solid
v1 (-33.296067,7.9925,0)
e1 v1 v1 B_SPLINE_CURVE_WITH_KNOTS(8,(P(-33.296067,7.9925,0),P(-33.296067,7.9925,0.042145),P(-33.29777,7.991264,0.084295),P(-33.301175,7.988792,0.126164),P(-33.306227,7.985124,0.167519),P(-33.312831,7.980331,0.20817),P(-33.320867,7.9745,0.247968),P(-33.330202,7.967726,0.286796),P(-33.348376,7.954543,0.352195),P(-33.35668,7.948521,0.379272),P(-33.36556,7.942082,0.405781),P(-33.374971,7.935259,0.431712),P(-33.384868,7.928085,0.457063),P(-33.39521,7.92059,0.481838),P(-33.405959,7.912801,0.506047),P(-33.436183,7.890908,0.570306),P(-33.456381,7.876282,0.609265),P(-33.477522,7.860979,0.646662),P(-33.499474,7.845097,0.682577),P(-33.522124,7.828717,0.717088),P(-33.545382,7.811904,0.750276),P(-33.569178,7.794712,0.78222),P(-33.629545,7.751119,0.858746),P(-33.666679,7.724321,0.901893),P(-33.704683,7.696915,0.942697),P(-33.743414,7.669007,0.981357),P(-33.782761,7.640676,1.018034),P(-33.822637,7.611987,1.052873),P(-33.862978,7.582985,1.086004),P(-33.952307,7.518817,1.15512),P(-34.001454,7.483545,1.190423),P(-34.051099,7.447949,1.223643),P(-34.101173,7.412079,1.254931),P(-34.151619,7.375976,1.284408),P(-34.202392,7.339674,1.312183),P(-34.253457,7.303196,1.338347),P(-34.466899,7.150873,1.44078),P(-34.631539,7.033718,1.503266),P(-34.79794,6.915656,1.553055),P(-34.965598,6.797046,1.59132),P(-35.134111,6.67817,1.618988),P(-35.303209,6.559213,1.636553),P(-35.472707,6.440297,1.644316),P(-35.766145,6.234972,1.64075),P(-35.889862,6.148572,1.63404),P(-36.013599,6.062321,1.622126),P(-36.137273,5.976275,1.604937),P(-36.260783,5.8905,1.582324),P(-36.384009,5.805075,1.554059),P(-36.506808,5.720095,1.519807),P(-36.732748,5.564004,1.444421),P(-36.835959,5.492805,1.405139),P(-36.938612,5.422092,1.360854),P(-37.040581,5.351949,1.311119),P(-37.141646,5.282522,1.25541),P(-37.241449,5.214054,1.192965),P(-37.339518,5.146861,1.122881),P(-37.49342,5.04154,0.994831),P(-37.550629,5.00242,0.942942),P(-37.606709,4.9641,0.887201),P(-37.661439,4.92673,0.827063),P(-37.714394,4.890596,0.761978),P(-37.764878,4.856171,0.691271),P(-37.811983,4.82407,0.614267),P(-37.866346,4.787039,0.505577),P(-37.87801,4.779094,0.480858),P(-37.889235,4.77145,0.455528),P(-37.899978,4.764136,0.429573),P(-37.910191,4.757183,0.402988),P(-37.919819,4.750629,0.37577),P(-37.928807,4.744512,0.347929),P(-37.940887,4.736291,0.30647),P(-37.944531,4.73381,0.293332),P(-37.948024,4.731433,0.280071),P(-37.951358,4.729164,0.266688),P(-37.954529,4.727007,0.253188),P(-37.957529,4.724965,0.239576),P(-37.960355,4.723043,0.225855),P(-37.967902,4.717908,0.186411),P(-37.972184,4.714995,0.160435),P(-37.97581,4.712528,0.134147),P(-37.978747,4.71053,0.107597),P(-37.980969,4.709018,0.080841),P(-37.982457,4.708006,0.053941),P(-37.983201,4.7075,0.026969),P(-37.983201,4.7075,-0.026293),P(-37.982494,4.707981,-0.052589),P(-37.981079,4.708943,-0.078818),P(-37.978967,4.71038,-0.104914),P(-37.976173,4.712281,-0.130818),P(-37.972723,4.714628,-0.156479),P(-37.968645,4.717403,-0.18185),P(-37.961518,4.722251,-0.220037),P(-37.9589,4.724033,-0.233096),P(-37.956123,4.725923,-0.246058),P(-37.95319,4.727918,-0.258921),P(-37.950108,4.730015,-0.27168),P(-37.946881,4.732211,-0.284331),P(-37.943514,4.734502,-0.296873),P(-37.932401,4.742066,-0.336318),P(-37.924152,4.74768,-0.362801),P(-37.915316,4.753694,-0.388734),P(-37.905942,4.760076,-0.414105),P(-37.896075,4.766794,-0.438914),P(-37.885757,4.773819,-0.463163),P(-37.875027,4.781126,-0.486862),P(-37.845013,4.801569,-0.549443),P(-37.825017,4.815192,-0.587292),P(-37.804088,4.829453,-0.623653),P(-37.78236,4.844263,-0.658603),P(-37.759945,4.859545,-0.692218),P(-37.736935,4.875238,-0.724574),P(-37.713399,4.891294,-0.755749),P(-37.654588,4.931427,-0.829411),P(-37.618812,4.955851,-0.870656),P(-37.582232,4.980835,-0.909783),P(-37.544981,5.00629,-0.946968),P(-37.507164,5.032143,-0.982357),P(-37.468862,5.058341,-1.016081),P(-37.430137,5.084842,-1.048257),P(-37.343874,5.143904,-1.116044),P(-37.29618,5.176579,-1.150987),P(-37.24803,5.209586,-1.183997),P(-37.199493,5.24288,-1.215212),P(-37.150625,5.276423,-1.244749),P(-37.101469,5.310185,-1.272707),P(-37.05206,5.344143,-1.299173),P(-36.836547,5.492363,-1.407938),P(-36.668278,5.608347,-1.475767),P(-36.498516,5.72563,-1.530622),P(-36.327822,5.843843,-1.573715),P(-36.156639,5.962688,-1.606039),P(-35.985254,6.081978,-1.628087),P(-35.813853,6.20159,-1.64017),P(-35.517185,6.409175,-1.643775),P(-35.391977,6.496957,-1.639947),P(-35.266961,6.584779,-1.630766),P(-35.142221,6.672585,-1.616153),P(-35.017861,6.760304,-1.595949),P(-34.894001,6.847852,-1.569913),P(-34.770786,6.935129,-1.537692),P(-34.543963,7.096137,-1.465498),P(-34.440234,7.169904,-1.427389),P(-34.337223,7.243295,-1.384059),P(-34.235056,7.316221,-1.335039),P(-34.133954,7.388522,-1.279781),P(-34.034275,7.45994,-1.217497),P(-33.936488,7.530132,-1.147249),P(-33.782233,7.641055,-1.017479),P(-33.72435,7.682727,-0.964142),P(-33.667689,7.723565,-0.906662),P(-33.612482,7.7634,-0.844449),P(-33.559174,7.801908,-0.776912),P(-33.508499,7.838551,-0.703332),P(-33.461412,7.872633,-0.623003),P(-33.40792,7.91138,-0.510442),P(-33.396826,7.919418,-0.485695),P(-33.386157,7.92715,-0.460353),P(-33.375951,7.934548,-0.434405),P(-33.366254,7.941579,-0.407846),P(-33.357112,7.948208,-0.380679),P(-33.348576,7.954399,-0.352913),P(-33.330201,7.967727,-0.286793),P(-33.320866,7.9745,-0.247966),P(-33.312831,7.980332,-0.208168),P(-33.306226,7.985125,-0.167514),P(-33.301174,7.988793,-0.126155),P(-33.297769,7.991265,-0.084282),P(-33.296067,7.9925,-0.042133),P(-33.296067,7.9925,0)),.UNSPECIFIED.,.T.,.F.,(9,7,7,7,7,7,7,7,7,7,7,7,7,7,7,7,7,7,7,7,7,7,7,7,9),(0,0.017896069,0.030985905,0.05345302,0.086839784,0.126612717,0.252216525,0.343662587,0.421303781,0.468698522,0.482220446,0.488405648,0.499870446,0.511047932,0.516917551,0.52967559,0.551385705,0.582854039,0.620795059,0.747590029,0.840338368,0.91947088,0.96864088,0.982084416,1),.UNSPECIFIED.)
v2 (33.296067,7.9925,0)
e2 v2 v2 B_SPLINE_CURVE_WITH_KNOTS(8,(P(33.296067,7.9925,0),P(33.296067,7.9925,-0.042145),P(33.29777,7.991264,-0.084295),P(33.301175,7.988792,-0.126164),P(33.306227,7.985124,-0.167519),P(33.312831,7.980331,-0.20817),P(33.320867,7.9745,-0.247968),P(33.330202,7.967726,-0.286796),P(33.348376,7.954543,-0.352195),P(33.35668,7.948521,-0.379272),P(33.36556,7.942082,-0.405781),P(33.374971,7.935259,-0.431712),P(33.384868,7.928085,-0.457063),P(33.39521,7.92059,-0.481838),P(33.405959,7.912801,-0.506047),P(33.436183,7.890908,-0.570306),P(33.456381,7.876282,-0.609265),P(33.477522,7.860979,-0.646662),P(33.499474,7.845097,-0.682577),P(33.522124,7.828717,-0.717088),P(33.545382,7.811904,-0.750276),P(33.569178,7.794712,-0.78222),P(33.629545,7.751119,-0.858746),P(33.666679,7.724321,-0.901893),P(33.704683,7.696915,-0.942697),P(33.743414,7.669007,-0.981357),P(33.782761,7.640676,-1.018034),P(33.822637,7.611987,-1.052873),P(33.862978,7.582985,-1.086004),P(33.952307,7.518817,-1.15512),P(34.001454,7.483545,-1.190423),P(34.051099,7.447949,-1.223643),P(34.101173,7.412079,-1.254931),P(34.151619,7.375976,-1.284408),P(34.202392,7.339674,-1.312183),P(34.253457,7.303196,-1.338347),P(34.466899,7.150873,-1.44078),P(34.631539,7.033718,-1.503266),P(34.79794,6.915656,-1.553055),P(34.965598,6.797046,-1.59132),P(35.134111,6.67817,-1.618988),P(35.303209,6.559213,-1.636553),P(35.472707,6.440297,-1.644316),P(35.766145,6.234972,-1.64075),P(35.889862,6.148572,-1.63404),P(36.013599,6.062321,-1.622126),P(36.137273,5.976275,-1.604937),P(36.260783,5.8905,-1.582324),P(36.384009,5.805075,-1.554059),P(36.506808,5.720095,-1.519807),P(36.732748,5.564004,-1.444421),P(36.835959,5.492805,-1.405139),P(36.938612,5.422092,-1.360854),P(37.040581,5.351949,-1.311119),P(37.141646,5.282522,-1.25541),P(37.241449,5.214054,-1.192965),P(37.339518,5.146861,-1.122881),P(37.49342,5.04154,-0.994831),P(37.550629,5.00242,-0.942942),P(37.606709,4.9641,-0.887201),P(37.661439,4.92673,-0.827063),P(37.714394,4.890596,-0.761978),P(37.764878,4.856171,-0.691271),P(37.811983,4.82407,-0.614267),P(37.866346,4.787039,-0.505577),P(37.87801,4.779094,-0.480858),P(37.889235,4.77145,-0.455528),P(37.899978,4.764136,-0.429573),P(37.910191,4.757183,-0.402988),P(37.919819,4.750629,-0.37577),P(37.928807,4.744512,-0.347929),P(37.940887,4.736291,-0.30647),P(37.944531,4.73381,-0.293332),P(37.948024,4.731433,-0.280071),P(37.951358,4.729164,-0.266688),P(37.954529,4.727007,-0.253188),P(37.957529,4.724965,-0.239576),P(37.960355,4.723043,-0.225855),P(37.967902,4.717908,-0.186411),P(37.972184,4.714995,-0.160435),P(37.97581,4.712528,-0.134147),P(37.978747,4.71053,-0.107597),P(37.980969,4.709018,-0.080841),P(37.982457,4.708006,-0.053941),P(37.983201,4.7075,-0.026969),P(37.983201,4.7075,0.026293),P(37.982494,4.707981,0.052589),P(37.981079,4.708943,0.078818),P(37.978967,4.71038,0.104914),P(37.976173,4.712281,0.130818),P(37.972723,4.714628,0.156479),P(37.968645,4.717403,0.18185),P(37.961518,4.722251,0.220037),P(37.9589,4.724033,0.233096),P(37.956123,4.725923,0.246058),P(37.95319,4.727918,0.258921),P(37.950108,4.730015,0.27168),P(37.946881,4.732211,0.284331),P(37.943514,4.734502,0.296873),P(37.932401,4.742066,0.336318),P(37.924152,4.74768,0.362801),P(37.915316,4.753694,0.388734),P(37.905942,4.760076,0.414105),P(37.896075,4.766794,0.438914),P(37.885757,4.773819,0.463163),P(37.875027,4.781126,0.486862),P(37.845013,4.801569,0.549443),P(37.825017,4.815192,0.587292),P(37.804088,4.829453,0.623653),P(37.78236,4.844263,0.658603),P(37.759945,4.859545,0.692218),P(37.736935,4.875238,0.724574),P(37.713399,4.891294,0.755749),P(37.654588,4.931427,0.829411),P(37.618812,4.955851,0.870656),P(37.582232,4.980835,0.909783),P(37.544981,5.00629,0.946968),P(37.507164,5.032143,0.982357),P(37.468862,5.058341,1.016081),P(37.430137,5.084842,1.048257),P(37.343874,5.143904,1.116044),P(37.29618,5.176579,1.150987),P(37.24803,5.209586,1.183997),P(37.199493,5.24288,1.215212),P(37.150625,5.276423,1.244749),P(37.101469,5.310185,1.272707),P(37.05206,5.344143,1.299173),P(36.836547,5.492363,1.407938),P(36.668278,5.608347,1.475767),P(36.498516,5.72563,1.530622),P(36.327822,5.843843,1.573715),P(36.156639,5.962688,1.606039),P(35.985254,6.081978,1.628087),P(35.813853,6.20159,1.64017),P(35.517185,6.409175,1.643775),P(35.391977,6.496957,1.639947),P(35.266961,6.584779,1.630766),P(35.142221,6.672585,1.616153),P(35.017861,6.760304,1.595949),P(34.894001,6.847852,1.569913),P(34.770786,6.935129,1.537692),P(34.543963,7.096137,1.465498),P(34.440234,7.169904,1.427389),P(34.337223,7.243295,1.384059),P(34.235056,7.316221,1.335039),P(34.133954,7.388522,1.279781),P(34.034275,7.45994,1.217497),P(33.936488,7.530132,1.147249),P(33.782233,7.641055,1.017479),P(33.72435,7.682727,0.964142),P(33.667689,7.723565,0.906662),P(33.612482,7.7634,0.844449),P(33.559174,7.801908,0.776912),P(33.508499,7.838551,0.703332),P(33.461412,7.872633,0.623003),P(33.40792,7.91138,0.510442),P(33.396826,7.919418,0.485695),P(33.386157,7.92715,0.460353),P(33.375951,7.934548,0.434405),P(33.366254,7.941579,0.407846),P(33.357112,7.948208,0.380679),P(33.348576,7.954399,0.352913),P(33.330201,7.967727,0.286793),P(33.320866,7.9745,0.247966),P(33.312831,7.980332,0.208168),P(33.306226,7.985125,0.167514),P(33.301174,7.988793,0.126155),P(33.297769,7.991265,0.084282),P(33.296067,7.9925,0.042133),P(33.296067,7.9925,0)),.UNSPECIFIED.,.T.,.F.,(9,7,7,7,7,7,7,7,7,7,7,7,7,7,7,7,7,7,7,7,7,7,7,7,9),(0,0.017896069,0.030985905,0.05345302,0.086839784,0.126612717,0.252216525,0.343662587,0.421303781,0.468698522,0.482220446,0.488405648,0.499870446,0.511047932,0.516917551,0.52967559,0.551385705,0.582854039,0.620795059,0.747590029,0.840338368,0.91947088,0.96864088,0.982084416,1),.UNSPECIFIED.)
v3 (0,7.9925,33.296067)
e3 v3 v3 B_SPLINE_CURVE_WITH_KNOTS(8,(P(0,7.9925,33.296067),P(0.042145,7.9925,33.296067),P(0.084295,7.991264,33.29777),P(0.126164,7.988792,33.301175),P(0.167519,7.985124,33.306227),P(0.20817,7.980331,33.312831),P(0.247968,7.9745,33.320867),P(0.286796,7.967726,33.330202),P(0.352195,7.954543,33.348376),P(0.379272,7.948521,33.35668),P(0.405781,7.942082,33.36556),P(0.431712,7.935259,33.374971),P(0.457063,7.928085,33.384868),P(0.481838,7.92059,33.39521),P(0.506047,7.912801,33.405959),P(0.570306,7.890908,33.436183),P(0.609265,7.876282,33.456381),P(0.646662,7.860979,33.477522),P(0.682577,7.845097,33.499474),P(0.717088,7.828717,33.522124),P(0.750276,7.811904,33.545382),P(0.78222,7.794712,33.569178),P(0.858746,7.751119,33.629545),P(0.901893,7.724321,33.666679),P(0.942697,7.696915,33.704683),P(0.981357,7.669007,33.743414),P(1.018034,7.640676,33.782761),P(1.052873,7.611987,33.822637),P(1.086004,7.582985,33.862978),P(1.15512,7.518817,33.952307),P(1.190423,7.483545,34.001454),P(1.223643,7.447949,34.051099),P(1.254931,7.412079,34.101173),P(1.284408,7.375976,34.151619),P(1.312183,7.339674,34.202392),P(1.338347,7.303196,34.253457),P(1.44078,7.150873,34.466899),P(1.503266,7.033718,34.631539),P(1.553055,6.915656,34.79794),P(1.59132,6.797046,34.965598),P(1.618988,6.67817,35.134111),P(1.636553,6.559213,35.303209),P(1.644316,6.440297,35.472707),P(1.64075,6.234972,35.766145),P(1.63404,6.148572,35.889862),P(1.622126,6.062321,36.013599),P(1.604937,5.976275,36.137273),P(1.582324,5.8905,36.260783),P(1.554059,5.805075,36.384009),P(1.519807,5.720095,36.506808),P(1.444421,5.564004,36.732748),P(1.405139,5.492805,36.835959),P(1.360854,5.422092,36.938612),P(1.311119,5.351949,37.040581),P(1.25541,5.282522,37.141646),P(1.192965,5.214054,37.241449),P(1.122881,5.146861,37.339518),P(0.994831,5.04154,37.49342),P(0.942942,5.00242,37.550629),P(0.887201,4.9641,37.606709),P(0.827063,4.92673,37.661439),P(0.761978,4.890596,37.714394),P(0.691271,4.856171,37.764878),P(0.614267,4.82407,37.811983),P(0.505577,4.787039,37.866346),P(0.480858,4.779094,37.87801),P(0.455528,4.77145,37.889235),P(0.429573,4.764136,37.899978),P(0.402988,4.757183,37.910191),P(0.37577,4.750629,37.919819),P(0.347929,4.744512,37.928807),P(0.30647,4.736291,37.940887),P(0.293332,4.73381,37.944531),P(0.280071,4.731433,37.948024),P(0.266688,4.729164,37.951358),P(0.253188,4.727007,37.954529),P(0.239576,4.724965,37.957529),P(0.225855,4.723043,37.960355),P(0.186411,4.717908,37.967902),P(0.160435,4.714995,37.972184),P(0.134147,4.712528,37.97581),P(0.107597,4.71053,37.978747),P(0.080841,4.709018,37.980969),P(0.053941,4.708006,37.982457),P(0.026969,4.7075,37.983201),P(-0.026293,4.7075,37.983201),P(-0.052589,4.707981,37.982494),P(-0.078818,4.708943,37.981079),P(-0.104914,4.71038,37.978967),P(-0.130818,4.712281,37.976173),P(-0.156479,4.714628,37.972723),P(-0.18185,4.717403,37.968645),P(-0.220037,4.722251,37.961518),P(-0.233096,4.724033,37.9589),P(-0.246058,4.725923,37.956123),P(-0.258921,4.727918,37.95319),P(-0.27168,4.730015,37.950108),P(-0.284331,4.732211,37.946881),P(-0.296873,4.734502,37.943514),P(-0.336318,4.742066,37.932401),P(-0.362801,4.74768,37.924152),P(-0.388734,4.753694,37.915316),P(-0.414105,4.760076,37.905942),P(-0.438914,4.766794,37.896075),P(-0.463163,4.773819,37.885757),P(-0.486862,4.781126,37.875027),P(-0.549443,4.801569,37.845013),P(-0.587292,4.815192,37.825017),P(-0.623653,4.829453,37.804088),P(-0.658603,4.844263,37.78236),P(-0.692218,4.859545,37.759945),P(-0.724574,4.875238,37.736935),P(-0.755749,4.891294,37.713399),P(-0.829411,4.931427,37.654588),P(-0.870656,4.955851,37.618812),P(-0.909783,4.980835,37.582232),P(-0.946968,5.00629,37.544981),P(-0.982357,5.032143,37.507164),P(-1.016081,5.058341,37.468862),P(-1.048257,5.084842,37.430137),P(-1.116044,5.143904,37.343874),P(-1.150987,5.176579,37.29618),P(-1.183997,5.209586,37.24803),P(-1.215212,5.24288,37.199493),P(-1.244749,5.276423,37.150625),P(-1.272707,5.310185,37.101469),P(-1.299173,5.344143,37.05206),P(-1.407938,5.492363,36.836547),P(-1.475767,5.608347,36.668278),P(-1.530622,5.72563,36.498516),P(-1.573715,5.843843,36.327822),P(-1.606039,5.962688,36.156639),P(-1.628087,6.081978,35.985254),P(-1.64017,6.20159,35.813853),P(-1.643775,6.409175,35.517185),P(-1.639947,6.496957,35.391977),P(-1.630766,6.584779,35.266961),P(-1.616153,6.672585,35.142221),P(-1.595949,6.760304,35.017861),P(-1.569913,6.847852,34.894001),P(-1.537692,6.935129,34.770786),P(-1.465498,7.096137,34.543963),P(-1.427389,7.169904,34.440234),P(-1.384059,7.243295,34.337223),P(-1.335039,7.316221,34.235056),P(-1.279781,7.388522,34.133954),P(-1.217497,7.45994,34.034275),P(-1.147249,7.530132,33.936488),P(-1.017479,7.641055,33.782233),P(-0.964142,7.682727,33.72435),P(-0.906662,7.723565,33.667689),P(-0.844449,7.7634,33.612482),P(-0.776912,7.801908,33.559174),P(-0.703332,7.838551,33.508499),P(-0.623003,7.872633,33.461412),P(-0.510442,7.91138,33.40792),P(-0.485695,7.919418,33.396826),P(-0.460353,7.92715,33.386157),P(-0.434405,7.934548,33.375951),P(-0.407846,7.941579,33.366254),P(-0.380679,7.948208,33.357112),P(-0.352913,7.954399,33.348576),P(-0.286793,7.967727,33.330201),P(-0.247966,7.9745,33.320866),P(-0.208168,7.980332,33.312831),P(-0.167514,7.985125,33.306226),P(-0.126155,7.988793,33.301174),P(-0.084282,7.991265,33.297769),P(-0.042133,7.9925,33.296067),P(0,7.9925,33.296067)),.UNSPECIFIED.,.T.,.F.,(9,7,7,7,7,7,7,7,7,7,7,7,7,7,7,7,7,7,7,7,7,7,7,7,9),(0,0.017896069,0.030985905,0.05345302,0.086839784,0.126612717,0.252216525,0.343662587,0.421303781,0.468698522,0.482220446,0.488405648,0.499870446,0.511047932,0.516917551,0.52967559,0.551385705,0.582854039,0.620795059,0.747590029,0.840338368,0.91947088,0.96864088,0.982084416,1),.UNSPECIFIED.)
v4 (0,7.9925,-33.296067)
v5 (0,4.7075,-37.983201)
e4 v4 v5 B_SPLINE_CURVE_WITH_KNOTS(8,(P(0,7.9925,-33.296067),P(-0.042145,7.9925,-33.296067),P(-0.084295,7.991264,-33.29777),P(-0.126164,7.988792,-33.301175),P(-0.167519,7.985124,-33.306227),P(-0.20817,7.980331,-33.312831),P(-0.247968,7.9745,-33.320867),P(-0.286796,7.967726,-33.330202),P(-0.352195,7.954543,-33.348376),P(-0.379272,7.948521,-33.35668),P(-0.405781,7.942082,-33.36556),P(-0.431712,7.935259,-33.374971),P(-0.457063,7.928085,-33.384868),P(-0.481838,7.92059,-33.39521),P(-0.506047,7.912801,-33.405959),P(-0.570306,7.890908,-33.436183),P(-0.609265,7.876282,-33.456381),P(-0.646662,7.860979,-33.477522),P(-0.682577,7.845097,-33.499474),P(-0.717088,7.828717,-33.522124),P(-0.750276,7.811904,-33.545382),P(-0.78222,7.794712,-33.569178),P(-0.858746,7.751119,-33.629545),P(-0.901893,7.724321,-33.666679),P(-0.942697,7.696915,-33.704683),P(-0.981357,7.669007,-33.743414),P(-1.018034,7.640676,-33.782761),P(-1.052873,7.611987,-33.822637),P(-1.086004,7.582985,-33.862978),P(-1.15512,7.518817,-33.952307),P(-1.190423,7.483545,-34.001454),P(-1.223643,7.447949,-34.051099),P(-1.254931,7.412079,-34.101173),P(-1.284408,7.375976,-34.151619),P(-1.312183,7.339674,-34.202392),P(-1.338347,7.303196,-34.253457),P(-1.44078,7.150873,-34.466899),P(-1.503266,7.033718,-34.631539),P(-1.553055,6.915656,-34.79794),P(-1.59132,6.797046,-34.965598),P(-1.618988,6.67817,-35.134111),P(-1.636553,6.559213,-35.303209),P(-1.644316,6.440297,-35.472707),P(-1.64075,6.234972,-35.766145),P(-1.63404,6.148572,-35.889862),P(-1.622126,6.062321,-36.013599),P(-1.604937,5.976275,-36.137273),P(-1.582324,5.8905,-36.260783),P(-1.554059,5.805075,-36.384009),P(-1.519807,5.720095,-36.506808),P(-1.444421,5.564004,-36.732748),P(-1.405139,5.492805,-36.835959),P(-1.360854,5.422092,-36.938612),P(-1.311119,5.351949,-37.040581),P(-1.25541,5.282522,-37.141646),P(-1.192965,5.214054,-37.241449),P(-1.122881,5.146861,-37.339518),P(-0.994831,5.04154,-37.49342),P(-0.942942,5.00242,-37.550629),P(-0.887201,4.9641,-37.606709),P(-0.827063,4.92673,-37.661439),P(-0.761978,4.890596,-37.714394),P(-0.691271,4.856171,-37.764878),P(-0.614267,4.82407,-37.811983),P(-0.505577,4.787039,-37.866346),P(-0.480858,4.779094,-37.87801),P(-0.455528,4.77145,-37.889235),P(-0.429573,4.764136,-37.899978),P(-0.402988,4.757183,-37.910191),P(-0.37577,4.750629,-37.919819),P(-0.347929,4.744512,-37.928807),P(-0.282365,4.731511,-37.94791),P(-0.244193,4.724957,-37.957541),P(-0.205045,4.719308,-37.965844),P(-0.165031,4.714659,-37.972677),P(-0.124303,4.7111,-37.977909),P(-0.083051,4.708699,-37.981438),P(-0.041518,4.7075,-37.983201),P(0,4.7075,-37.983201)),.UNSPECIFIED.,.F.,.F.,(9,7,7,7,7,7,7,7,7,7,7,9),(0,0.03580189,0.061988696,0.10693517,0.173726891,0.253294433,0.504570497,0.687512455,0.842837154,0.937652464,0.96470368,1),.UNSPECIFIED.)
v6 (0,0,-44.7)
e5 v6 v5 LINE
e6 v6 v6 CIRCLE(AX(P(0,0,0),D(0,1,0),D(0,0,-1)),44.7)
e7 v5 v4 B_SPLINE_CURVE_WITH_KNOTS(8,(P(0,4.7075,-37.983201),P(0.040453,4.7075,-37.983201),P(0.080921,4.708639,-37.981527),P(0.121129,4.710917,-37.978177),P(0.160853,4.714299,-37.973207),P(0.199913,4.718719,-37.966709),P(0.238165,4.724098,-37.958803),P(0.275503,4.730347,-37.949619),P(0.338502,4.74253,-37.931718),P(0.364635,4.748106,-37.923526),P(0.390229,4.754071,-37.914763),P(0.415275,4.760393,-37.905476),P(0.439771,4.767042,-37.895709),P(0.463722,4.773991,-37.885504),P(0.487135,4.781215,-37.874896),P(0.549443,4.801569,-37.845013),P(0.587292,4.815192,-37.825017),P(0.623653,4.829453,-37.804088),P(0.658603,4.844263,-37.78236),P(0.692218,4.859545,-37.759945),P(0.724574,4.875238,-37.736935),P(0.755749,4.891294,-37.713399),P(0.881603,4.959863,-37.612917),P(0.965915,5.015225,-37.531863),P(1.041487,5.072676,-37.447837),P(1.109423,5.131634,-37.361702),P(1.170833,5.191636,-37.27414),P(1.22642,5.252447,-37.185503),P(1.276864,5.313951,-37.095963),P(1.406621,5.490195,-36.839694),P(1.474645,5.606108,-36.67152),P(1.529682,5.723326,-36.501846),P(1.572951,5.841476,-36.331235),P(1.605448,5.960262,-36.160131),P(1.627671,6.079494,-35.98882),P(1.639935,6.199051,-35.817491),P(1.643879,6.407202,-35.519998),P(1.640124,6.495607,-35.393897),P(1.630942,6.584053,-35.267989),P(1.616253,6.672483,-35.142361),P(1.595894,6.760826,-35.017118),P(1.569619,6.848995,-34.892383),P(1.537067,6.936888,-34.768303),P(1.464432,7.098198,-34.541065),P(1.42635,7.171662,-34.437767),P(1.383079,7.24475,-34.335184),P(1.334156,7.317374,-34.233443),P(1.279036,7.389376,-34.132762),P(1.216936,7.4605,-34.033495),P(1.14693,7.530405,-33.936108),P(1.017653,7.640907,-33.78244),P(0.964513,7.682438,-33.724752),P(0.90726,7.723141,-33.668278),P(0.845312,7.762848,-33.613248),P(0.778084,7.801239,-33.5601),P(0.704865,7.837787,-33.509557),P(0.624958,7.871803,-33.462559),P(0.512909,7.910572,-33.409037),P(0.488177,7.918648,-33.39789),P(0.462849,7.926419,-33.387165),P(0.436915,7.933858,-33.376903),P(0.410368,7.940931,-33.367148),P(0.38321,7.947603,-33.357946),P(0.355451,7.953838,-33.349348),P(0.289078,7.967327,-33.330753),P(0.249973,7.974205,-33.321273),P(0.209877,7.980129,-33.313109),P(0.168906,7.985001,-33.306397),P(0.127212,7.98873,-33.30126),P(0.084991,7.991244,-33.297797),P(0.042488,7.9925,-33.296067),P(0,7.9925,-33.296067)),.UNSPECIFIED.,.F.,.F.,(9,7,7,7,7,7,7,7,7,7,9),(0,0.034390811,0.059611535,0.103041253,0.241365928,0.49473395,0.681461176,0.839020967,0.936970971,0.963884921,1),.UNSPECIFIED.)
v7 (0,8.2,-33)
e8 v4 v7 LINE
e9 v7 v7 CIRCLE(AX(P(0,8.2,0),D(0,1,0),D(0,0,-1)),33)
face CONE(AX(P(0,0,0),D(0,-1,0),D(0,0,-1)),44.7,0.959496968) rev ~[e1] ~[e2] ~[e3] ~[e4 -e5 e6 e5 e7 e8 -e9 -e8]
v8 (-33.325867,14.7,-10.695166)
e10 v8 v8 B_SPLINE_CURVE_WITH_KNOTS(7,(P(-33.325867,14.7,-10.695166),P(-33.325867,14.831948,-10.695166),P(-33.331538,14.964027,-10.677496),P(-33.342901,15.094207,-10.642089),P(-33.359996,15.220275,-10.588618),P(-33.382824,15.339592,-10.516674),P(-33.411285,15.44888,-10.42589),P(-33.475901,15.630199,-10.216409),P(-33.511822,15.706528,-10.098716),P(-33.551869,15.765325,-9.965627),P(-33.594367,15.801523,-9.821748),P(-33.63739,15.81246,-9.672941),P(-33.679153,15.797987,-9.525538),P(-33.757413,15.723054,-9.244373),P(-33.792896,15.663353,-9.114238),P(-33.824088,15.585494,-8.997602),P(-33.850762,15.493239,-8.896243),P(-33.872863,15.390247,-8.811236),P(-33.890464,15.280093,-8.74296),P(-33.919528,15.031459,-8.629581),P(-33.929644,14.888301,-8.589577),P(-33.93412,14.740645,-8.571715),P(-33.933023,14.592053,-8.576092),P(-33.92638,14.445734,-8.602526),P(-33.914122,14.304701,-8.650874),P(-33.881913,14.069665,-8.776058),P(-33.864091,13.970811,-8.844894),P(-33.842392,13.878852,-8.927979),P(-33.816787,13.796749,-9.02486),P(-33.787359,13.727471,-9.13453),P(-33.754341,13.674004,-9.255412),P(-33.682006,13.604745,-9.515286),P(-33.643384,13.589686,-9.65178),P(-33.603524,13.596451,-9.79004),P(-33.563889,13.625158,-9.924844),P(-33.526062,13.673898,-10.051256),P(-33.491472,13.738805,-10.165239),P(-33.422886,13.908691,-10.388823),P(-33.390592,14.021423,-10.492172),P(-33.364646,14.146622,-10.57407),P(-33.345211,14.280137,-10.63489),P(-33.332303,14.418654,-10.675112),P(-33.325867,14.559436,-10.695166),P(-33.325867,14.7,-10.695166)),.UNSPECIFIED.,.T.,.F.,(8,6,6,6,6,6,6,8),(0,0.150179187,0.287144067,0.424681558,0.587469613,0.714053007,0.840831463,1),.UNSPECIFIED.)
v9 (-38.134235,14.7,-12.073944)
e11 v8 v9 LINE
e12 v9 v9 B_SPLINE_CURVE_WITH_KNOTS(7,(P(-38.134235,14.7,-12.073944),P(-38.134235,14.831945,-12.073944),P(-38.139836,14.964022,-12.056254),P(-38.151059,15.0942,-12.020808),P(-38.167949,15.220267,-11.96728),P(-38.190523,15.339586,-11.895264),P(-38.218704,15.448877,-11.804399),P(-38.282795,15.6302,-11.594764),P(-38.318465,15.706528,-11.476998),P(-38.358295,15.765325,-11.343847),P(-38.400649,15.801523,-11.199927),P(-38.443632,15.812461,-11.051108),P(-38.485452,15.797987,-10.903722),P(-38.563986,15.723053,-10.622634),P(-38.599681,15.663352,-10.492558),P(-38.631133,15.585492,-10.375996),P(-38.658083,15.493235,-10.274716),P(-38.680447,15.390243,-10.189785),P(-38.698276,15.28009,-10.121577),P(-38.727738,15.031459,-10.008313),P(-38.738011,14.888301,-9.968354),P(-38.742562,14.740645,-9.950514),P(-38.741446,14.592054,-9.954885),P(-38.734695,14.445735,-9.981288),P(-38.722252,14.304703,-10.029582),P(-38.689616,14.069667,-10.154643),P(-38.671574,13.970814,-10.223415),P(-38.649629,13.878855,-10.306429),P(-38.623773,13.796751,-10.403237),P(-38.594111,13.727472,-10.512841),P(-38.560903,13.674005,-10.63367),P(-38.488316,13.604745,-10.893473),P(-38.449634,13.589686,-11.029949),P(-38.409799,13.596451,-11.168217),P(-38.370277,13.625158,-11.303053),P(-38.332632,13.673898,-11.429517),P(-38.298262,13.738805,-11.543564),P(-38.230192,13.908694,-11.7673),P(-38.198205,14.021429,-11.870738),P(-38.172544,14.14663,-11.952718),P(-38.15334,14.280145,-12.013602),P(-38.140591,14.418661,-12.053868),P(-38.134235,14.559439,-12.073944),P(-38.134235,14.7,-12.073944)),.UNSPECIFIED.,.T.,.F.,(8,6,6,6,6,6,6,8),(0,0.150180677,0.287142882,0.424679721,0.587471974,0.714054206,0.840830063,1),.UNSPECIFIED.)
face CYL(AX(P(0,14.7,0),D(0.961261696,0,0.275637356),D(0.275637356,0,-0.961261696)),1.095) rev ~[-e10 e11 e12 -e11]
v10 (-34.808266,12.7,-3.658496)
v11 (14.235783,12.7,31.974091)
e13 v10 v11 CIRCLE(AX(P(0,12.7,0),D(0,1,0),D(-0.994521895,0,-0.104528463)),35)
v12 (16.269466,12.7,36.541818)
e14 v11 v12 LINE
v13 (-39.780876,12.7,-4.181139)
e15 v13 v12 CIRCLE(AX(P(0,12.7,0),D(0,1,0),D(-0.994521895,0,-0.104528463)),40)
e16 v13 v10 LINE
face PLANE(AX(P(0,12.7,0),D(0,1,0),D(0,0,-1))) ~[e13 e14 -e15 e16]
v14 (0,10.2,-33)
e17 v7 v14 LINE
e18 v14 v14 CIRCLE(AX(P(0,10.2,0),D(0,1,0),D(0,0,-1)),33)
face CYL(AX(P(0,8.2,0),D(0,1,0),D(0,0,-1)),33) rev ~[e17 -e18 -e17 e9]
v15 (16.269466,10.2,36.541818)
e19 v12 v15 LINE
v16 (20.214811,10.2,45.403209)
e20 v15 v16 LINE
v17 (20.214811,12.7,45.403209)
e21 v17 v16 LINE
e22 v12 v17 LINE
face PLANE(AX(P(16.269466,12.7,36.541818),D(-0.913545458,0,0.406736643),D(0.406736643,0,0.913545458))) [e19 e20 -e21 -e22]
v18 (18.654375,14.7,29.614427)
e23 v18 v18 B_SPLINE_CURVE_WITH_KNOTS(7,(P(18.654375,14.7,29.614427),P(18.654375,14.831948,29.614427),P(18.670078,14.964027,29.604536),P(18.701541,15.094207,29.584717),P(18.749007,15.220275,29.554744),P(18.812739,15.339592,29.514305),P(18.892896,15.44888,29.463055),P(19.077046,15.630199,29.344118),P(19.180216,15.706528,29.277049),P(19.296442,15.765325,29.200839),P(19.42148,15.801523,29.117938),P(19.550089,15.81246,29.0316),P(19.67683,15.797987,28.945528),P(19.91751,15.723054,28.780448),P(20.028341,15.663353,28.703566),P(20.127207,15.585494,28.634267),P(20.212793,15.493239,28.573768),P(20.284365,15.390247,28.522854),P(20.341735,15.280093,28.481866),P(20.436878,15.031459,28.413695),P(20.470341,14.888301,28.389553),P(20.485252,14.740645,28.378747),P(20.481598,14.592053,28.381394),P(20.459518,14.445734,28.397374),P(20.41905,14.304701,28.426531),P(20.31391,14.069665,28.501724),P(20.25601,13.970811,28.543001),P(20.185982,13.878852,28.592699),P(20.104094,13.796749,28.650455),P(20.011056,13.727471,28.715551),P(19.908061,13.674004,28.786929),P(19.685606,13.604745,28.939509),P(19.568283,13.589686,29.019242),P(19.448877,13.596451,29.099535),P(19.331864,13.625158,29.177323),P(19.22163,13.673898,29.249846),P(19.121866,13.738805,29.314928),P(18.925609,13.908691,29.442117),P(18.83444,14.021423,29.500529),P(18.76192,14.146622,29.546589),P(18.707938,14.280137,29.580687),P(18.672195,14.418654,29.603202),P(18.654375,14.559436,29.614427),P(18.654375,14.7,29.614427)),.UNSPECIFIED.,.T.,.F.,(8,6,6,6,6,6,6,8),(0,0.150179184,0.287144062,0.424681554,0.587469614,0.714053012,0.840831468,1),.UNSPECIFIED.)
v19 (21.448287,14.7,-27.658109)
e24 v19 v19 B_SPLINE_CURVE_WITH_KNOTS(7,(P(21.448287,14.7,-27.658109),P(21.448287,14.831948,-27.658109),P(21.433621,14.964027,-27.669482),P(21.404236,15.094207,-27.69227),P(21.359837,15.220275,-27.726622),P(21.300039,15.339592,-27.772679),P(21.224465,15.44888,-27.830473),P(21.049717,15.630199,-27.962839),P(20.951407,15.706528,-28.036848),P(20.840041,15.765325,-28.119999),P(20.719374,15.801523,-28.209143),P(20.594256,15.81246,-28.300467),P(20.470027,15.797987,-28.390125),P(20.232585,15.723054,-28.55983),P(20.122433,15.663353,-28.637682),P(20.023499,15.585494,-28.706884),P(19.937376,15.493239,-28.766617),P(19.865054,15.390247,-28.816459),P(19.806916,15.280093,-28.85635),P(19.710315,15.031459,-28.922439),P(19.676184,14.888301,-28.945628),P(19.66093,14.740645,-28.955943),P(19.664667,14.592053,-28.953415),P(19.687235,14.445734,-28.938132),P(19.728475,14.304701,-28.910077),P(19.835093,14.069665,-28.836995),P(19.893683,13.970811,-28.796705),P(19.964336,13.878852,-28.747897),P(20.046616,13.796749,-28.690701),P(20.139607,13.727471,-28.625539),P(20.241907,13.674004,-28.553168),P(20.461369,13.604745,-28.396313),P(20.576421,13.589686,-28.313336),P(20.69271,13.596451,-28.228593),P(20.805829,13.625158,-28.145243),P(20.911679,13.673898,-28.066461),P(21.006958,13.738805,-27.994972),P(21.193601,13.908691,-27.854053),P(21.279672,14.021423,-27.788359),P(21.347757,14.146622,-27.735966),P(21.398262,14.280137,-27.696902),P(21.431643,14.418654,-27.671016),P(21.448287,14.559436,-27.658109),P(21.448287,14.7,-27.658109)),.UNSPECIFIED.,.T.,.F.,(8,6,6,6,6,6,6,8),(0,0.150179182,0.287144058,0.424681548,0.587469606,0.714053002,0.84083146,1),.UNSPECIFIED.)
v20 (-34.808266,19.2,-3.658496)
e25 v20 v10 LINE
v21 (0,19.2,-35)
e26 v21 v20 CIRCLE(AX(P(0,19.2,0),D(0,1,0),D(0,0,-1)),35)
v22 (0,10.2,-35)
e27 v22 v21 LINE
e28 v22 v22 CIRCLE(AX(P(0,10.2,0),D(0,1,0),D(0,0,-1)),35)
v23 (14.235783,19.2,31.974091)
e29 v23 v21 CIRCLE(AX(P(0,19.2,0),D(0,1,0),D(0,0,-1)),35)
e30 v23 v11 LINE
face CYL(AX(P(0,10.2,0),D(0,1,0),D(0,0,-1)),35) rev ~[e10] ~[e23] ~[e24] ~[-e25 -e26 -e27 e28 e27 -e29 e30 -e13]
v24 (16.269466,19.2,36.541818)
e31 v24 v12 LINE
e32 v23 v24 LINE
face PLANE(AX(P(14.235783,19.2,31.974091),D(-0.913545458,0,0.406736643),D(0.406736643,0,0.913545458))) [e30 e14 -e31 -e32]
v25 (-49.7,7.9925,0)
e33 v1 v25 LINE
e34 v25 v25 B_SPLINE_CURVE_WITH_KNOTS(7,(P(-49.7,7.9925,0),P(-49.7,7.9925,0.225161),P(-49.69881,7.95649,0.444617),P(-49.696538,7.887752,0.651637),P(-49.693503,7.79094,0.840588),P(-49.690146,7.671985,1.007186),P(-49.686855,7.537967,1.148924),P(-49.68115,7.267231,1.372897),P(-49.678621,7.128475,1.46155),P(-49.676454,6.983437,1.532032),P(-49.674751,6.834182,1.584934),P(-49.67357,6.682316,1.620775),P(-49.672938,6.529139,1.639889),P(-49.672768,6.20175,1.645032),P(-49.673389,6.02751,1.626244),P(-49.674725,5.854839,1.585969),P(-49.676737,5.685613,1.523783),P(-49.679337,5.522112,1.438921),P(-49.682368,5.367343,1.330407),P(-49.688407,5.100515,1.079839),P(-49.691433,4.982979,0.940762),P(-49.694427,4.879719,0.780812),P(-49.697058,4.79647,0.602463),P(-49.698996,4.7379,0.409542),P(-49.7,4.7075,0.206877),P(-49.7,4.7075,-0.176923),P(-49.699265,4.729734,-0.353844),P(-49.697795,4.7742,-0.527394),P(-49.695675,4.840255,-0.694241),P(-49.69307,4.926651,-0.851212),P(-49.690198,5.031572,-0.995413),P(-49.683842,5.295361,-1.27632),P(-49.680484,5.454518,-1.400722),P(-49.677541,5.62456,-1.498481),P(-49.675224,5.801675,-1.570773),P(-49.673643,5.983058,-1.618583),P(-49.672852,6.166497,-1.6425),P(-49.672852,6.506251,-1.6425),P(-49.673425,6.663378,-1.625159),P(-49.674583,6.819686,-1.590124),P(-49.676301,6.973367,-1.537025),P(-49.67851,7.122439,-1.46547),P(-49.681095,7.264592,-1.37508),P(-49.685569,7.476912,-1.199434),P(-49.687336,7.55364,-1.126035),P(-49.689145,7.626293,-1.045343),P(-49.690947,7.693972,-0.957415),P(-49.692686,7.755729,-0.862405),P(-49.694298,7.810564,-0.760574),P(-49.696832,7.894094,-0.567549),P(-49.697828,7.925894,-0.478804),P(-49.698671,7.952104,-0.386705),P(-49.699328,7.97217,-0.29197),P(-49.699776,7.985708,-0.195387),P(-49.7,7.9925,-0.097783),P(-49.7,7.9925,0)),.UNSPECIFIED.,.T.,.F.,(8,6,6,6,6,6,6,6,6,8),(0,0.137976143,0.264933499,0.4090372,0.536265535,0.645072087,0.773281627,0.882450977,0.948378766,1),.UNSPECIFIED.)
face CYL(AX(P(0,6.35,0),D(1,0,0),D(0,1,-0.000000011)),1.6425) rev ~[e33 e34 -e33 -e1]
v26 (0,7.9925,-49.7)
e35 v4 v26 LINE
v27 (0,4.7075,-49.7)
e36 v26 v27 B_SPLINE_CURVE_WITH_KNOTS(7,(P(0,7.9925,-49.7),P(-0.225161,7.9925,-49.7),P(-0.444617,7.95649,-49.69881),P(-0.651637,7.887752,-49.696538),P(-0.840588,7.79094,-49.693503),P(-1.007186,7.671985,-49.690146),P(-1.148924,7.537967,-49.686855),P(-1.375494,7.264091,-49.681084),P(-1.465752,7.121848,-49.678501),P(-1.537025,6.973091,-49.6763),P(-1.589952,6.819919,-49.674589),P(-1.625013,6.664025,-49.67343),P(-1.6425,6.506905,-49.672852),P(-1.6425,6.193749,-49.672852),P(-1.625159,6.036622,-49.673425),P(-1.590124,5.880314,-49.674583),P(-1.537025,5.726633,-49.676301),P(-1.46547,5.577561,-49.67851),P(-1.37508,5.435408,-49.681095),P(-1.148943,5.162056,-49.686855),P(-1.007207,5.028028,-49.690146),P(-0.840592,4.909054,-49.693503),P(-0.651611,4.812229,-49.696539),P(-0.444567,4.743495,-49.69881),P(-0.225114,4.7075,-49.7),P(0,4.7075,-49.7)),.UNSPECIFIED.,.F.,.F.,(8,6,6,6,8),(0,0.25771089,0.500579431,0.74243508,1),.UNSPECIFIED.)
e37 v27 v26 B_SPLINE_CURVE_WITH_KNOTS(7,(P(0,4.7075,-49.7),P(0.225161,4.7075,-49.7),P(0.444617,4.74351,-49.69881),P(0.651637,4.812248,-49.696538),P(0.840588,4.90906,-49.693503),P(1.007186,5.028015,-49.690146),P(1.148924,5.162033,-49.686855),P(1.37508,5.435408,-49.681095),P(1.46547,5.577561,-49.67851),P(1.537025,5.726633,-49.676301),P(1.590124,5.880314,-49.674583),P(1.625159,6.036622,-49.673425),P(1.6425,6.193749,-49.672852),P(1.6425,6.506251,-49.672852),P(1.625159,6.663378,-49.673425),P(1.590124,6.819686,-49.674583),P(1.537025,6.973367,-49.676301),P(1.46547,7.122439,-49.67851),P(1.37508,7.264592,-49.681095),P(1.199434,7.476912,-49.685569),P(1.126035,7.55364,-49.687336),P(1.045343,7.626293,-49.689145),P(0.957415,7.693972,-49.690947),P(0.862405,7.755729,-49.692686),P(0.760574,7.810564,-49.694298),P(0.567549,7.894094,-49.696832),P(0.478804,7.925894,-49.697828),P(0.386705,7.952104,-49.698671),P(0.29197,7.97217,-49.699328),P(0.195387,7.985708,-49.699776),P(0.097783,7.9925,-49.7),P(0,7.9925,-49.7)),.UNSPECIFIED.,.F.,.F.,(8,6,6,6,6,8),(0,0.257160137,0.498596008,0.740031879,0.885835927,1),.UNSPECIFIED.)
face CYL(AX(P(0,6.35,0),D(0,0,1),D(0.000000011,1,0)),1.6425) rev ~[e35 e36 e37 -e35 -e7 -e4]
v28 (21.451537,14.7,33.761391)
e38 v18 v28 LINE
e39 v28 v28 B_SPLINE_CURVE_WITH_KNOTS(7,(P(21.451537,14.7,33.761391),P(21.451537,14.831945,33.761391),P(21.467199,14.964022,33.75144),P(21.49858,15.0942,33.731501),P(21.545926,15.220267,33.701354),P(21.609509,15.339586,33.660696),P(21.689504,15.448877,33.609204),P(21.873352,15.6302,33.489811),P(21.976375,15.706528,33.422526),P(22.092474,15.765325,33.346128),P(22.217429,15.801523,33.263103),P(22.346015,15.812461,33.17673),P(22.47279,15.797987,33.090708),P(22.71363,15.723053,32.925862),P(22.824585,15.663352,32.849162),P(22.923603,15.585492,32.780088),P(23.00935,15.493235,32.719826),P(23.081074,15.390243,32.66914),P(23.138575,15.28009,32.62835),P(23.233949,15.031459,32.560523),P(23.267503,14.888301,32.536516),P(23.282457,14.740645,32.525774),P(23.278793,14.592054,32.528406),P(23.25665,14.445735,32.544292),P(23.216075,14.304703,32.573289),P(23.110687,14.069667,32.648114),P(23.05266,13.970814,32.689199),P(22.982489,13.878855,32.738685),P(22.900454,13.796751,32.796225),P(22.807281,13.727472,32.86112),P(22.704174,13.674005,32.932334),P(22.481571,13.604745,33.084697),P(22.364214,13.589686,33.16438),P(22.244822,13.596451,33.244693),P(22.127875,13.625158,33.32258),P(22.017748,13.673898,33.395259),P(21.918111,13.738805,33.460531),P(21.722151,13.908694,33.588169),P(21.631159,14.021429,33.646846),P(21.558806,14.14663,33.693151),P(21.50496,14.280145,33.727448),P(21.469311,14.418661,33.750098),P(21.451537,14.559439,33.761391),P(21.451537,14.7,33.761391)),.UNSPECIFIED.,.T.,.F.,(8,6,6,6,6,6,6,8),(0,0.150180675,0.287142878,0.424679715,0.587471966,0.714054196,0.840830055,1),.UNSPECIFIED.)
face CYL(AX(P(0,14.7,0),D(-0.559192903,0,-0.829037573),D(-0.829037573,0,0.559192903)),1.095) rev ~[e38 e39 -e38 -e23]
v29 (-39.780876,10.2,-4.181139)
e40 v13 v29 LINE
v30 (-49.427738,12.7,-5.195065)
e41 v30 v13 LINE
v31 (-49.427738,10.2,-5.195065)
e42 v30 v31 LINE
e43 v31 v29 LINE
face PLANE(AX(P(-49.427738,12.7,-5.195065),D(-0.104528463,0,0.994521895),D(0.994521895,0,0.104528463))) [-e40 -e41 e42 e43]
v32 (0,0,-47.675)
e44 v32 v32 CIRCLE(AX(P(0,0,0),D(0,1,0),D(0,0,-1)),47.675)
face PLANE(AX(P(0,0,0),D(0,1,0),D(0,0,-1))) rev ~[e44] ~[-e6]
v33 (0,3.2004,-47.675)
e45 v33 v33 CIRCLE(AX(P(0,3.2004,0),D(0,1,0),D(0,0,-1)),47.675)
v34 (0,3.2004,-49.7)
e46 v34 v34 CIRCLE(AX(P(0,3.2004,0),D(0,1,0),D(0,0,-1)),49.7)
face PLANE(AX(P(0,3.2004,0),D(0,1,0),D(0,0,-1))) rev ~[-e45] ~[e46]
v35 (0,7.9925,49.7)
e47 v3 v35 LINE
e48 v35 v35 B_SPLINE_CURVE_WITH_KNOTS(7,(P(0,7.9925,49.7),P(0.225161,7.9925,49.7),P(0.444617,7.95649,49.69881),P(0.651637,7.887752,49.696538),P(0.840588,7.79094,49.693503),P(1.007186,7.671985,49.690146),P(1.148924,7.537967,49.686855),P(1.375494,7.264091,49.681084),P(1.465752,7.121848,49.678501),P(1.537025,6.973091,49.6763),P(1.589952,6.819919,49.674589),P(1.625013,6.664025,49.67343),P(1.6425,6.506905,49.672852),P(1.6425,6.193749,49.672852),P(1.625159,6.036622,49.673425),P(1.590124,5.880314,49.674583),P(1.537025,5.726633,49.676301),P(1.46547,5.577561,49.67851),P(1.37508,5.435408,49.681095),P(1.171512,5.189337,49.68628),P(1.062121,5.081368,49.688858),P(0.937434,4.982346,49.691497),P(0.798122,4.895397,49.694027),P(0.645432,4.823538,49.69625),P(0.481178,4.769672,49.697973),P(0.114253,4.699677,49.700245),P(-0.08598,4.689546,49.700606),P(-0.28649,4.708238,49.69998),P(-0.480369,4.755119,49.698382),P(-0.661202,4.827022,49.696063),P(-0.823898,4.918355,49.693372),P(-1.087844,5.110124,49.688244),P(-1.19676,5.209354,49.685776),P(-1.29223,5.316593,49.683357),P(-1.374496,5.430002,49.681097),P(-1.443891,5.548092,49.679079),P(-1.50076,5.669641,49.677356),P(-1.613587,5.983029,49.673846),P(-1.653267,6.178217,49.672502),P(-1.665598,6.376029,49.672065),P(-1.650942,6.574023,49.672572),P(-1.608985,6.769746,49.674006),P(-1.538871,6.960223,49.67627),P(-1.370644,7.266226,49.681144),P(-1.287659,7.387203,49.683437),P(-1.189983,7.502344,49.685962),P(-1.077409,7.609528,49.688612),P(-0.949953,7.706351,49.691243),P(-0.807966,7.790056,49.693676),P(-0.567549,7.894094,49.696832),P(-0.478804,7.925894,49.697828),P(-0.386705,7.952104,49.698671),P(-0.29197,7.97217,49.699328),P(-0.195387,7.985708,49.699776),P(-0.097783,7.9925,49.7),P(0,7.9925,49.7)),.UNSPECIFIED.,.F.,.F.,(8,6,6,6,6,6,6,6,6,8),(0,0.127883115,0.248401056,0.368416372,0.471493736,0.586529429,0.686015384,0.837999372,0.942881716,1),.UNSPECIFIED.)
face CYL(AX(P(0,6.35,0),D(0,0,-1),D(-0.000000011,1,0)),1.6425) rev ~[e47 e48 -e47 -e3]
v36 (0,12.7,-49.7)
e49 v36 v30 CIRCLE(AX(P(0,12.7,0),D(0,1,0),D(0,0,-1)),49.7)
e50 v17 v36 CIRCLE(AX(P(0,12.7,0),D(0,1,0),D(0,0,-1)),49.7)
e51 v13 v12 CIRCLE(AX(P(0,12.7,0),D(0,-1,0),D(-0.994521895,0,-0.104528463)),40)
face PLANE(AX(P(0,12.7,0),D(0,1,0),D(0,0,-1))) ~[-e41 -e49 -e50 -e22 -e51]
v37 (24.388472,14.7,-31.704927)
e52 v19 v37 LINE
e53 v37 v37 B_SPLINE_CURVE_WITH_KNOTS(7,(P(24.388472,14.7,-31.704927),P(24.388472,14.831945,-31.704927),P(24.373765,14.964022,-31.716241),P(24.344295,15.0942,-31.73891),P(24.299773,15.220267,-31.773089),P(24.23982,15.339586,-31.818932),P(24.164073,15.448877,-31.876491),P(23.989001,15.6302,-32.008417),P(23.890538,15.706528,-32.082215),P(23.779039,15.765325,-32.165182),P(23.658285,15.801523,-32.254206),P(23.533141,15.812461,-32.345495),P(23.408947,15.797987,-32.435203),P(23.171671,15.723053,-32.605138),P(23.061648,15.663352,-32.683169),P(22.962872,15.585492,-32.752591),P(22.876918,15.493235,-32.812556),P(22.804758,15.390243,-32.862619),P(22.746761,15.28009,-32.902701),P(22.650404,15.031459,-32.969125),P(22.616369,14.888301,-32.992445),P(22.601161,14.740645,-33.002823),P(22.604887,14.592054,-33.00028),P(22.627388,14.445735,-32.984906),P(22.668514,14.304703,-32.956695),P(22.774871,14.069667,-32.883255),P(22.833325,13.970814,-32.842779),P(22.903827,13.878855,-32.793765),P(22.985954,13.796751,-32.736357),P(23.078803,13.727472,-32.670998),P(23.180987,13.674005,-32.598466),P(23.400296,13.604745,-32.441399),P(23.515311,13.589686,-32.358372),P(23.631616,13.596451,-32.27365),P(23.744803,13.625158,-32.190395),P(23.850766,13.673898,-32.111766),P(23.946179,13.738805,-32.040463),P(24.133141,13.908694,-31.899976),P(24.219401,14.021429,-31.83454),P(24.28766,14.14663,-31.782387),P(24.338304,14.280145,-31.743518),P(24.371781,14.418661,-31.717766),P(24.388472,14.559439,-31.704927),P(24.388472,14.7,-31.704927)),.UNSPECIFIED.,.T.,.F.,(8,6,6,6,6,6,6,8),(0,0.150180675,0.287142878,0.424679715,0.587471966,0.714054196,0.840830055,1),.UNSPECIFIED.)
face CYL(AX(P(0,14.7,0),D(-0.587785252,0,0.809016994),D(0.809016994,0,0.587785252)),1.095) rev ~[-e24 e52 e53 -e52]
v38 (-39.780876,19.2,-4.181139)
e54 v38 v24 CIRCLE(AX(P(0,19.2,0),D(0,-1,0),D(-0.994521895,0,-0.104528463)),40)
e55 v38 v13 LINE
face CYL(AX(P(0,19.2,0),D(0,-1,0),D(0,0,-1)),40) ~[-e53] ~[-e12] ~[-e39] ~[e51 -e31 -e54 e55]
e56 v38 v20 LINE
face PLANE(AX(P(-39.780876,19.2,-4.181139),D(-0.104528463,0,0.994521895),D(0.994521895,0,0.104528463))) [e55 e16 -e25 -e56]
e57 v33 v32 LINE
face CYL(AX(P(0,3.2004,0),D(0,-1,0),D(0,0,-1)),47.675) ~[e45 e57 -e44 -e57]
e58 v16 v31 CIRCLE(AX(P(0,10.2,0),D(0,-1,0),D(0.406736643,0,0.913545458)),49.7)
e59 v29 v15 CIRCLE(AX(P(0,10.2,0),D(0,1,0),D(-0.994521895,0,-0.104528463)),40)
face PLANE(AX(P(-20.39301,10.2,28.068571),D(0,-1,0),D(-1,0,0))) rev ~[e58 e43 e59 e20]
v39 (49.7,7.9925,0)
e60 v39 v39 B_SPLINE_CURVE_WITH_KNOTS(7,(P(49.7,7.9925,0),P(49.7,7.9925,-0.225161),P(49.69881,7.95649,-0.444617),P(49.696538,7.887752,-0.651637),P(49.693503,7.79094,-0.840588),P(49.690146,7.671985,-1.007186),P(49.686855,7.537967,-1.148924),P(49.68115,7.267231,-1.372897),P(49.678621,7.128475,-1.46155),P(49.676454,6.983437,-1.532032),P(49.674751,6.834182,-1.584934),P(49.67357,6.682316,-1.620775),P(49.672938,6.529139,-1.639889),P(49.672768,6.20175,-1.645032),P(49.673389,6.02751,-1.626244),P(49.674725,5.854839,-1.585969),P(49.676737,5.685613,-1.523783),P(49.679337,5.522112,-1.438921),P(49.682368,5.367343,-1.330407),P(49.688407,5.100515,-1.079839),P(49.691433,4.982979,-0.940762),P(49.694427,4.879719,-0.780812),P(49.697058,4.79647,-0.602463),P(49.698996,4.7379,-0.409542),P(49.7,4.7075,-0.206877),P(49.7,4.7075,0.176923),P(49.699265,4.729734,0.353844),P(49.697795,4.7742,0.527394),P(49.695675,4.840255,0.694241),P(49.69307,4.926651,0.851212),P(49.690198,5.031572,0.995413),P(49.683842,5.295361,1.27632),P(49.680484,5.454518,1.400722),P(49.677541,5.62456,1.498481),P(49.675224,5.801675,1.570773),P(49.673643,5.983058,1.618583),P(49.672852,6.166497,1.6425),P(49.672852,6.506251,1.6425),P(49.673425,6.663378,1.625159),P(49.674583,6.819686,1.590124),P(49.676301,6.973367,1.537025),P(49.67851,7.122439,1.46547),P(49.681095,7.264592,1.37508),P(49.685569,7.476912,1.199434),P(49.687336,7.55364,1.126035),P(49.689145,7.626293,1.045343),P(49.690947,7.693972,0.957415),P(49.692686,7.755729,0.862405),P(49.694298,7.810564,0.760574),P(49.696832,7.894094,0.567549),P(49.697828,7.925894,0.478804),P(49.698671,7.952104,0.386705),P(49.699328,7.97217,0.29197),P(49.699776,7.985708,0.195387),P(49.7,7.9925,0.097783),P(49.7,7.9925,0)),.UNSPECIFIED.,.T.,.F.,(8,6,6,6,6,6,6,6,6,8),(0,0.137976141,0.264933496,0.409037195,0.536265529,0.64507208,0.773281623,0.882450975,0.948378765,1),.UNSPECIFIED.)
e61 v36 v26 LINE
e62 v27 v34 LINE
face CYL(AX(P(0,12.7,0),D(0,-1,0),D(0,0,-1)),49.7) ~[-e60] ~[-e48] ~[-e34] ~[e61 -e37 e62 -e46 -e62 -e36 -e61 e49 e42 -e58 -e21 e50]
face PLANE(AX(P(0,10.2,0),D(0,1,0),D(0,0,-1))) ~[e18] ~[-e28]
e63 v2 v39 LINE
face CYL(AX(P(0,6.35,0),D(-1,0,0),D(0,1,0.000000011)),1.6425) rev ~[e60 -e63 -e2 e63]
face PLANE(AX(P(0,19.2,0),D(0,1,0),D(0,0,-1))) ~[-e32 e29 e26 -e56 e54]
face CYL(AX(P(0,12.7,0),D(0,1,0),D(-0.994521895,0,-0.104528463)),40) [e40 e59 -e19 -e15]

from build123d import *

# Parameters (mm, degrees)
SKETCH5_R          = 1.6425
CUT_EXTRUDE1_DEPTH = 50.7
SKETCH6_R          = 1.095
CUT_EXTRUDE2_DEPTH = 70.421071799
CIRPATTERN1_COUNT  = 4
CUT_EXTRUDE3_DEPTH = 6.5
CUT_EXTRUDE4_DEPTH = 2.5
CIRPATTERN2_COUNT  = 2
CIRPATTERN2_ANGLE  = 110
CIRPATTERN3_COUNT  = 2
CIRPATTERN3_ANGLE  = 110


with BuildPart() as part:
    # Sketch2 → Revolve1 (revolve)
    with BuildSketch(Plane.XY, mode=Mode.PRIVATE) as revolve1_sk:
        Polygon((49.7, 12.7), (49.7, 3.2004), (47.675, 3.2004), (47.675, 0), (44.7, 0), (33, 8.2), (33, 10.2), (35, 10.2), (35, 19.2), (40, 19.2), (40, 12.7), align=None)
    revolve(revolve1_sk.sketch.rotate(Axis((0, 0, 0), (0, 1, 0)), 90), axis=Axis((0, 0, 0), (0, 1, 0)))  # turned: the seam where the file's is

    # Sketch5 → Cut-Extrude1 (cut, through all)
    with BuildSketch(Plane.XY):
        with Locations(Location((0, 6.35, 0), (0, 0, 89.999999357))):  # turned: the seam where the file's is
            Circle(SKETCH5_R)
    cut_extrude1 = extrude(amount=-CUT_EXTRUDE1_DEPTH, mode=Mode.SUBTRACT)

    # Sketch6 → Cut-Extrude2 (cut, through all)
    with BuildSketch(Plane(origin=(0, 0, 0), x_dir=(0.809016994, 0, 0.587785252), z_dir=(-0.587785252, 0, 0.809016994))):
        with Locations((0, 14.7)):
            Circle(SKETCH6_R)
    cut_extrude2 = extrude(amount=-CUT_EXTRUDE2_DEPTH, mode=Mode.SUBTRACT)

    # CirPattern1: Cut-Extrude1 ×4 about axis
    cirpattern1_axis = Axis((0, 13.335, 0), (0, -1, 0))
    for i in range(1, CIRPATTERN1_COUNT):
        add(cut_extrude1.rotate(cirpattern1_axis, i * 360 / CIRPATTERN1_COUNT), mode=Mode.SUBTRACT)

    # Sketch7 → Cut-Extrude3 (cut)
    with BuildSketch(Plane(origin=(0, 19.2, 0), x_dir=(-1, 0, 0), z_dir=(0, 1, 0))):
        with BuildLine():
            Line((39.780875815, -4.181138531), (34.808266338, -3.658496214))
            ThreePointArc((34.808266338, -3.658496214), (20.57248383, 28.315594803), (-14.235782508, 31.974091017))
            Line((-14.235782508, 31.974091017), (-16.269465723, 36.541818306))
            ThreePointArc((-16.269465723, 36.541818306), (23.511410092, 32.360679775), (39.780875815, -4.181138531))
        make_face()
    extrude(amount=-CUT_EXTRUDE3_DEPTH, mode=Mode.SUBTRACT)

    # Sketch8 → Cut-Extrude4 (cut)
    with BuildSketch(Plane(origin=(0, 12.7, 0), x_dir=(1, 0, 0), z_dir=(0, 1, 0))):
        with BuildLine():
            Line((-49.4277382, 5.195064624), (-39.780875815, 4.181138531))
            ThreePointArc((-39.780875815, 4.181138531), (-23.511410092, -32.360679775), (16.269465723, -36.541818306))
            Line((16.269465723, -36.541818306), (20.214811161, -45.403209245))
            ThreePointArc((20.214811161, -45.403209245), (-29.212927039, -40.20814462), (-49.4277382, 5.195064624))
        make_face()
    extrude(amount=-CUT_EXTRUDE4_DEPTH, mode=Mode.SUBTRACT)

    # CirPattern2: Cut-Extrude2 ×2 about axis
    cirpattern2_axis = Axis((0, 13.335, 0), (0, -1, 0))
    for i in range(1, CIRPATTERN2_COUNT):
        add(cut_extrude2.rotate(cirpattern2_axis, i * CIRPATTERN2_ANGLE / (CIRPATTERN2_COUNT - 1)), mode=Mode.SUBTRACT)

    # CirPattern3: Cut-Extrude2 ×2 about axis
    cirpattern3_axis = Axis((0, 13.335, 0), (0, 1, 0))
    for i in range(1, CIRPATTERN3_COUNT):
        add(cut_extrude2.rotate(cirpattern3_axis, i * CIRPATTERN3_ANGLE / (CIRPATTERN3_COUNT - 1)), mode=Mode.SUBTRACT)


solid = part.part
